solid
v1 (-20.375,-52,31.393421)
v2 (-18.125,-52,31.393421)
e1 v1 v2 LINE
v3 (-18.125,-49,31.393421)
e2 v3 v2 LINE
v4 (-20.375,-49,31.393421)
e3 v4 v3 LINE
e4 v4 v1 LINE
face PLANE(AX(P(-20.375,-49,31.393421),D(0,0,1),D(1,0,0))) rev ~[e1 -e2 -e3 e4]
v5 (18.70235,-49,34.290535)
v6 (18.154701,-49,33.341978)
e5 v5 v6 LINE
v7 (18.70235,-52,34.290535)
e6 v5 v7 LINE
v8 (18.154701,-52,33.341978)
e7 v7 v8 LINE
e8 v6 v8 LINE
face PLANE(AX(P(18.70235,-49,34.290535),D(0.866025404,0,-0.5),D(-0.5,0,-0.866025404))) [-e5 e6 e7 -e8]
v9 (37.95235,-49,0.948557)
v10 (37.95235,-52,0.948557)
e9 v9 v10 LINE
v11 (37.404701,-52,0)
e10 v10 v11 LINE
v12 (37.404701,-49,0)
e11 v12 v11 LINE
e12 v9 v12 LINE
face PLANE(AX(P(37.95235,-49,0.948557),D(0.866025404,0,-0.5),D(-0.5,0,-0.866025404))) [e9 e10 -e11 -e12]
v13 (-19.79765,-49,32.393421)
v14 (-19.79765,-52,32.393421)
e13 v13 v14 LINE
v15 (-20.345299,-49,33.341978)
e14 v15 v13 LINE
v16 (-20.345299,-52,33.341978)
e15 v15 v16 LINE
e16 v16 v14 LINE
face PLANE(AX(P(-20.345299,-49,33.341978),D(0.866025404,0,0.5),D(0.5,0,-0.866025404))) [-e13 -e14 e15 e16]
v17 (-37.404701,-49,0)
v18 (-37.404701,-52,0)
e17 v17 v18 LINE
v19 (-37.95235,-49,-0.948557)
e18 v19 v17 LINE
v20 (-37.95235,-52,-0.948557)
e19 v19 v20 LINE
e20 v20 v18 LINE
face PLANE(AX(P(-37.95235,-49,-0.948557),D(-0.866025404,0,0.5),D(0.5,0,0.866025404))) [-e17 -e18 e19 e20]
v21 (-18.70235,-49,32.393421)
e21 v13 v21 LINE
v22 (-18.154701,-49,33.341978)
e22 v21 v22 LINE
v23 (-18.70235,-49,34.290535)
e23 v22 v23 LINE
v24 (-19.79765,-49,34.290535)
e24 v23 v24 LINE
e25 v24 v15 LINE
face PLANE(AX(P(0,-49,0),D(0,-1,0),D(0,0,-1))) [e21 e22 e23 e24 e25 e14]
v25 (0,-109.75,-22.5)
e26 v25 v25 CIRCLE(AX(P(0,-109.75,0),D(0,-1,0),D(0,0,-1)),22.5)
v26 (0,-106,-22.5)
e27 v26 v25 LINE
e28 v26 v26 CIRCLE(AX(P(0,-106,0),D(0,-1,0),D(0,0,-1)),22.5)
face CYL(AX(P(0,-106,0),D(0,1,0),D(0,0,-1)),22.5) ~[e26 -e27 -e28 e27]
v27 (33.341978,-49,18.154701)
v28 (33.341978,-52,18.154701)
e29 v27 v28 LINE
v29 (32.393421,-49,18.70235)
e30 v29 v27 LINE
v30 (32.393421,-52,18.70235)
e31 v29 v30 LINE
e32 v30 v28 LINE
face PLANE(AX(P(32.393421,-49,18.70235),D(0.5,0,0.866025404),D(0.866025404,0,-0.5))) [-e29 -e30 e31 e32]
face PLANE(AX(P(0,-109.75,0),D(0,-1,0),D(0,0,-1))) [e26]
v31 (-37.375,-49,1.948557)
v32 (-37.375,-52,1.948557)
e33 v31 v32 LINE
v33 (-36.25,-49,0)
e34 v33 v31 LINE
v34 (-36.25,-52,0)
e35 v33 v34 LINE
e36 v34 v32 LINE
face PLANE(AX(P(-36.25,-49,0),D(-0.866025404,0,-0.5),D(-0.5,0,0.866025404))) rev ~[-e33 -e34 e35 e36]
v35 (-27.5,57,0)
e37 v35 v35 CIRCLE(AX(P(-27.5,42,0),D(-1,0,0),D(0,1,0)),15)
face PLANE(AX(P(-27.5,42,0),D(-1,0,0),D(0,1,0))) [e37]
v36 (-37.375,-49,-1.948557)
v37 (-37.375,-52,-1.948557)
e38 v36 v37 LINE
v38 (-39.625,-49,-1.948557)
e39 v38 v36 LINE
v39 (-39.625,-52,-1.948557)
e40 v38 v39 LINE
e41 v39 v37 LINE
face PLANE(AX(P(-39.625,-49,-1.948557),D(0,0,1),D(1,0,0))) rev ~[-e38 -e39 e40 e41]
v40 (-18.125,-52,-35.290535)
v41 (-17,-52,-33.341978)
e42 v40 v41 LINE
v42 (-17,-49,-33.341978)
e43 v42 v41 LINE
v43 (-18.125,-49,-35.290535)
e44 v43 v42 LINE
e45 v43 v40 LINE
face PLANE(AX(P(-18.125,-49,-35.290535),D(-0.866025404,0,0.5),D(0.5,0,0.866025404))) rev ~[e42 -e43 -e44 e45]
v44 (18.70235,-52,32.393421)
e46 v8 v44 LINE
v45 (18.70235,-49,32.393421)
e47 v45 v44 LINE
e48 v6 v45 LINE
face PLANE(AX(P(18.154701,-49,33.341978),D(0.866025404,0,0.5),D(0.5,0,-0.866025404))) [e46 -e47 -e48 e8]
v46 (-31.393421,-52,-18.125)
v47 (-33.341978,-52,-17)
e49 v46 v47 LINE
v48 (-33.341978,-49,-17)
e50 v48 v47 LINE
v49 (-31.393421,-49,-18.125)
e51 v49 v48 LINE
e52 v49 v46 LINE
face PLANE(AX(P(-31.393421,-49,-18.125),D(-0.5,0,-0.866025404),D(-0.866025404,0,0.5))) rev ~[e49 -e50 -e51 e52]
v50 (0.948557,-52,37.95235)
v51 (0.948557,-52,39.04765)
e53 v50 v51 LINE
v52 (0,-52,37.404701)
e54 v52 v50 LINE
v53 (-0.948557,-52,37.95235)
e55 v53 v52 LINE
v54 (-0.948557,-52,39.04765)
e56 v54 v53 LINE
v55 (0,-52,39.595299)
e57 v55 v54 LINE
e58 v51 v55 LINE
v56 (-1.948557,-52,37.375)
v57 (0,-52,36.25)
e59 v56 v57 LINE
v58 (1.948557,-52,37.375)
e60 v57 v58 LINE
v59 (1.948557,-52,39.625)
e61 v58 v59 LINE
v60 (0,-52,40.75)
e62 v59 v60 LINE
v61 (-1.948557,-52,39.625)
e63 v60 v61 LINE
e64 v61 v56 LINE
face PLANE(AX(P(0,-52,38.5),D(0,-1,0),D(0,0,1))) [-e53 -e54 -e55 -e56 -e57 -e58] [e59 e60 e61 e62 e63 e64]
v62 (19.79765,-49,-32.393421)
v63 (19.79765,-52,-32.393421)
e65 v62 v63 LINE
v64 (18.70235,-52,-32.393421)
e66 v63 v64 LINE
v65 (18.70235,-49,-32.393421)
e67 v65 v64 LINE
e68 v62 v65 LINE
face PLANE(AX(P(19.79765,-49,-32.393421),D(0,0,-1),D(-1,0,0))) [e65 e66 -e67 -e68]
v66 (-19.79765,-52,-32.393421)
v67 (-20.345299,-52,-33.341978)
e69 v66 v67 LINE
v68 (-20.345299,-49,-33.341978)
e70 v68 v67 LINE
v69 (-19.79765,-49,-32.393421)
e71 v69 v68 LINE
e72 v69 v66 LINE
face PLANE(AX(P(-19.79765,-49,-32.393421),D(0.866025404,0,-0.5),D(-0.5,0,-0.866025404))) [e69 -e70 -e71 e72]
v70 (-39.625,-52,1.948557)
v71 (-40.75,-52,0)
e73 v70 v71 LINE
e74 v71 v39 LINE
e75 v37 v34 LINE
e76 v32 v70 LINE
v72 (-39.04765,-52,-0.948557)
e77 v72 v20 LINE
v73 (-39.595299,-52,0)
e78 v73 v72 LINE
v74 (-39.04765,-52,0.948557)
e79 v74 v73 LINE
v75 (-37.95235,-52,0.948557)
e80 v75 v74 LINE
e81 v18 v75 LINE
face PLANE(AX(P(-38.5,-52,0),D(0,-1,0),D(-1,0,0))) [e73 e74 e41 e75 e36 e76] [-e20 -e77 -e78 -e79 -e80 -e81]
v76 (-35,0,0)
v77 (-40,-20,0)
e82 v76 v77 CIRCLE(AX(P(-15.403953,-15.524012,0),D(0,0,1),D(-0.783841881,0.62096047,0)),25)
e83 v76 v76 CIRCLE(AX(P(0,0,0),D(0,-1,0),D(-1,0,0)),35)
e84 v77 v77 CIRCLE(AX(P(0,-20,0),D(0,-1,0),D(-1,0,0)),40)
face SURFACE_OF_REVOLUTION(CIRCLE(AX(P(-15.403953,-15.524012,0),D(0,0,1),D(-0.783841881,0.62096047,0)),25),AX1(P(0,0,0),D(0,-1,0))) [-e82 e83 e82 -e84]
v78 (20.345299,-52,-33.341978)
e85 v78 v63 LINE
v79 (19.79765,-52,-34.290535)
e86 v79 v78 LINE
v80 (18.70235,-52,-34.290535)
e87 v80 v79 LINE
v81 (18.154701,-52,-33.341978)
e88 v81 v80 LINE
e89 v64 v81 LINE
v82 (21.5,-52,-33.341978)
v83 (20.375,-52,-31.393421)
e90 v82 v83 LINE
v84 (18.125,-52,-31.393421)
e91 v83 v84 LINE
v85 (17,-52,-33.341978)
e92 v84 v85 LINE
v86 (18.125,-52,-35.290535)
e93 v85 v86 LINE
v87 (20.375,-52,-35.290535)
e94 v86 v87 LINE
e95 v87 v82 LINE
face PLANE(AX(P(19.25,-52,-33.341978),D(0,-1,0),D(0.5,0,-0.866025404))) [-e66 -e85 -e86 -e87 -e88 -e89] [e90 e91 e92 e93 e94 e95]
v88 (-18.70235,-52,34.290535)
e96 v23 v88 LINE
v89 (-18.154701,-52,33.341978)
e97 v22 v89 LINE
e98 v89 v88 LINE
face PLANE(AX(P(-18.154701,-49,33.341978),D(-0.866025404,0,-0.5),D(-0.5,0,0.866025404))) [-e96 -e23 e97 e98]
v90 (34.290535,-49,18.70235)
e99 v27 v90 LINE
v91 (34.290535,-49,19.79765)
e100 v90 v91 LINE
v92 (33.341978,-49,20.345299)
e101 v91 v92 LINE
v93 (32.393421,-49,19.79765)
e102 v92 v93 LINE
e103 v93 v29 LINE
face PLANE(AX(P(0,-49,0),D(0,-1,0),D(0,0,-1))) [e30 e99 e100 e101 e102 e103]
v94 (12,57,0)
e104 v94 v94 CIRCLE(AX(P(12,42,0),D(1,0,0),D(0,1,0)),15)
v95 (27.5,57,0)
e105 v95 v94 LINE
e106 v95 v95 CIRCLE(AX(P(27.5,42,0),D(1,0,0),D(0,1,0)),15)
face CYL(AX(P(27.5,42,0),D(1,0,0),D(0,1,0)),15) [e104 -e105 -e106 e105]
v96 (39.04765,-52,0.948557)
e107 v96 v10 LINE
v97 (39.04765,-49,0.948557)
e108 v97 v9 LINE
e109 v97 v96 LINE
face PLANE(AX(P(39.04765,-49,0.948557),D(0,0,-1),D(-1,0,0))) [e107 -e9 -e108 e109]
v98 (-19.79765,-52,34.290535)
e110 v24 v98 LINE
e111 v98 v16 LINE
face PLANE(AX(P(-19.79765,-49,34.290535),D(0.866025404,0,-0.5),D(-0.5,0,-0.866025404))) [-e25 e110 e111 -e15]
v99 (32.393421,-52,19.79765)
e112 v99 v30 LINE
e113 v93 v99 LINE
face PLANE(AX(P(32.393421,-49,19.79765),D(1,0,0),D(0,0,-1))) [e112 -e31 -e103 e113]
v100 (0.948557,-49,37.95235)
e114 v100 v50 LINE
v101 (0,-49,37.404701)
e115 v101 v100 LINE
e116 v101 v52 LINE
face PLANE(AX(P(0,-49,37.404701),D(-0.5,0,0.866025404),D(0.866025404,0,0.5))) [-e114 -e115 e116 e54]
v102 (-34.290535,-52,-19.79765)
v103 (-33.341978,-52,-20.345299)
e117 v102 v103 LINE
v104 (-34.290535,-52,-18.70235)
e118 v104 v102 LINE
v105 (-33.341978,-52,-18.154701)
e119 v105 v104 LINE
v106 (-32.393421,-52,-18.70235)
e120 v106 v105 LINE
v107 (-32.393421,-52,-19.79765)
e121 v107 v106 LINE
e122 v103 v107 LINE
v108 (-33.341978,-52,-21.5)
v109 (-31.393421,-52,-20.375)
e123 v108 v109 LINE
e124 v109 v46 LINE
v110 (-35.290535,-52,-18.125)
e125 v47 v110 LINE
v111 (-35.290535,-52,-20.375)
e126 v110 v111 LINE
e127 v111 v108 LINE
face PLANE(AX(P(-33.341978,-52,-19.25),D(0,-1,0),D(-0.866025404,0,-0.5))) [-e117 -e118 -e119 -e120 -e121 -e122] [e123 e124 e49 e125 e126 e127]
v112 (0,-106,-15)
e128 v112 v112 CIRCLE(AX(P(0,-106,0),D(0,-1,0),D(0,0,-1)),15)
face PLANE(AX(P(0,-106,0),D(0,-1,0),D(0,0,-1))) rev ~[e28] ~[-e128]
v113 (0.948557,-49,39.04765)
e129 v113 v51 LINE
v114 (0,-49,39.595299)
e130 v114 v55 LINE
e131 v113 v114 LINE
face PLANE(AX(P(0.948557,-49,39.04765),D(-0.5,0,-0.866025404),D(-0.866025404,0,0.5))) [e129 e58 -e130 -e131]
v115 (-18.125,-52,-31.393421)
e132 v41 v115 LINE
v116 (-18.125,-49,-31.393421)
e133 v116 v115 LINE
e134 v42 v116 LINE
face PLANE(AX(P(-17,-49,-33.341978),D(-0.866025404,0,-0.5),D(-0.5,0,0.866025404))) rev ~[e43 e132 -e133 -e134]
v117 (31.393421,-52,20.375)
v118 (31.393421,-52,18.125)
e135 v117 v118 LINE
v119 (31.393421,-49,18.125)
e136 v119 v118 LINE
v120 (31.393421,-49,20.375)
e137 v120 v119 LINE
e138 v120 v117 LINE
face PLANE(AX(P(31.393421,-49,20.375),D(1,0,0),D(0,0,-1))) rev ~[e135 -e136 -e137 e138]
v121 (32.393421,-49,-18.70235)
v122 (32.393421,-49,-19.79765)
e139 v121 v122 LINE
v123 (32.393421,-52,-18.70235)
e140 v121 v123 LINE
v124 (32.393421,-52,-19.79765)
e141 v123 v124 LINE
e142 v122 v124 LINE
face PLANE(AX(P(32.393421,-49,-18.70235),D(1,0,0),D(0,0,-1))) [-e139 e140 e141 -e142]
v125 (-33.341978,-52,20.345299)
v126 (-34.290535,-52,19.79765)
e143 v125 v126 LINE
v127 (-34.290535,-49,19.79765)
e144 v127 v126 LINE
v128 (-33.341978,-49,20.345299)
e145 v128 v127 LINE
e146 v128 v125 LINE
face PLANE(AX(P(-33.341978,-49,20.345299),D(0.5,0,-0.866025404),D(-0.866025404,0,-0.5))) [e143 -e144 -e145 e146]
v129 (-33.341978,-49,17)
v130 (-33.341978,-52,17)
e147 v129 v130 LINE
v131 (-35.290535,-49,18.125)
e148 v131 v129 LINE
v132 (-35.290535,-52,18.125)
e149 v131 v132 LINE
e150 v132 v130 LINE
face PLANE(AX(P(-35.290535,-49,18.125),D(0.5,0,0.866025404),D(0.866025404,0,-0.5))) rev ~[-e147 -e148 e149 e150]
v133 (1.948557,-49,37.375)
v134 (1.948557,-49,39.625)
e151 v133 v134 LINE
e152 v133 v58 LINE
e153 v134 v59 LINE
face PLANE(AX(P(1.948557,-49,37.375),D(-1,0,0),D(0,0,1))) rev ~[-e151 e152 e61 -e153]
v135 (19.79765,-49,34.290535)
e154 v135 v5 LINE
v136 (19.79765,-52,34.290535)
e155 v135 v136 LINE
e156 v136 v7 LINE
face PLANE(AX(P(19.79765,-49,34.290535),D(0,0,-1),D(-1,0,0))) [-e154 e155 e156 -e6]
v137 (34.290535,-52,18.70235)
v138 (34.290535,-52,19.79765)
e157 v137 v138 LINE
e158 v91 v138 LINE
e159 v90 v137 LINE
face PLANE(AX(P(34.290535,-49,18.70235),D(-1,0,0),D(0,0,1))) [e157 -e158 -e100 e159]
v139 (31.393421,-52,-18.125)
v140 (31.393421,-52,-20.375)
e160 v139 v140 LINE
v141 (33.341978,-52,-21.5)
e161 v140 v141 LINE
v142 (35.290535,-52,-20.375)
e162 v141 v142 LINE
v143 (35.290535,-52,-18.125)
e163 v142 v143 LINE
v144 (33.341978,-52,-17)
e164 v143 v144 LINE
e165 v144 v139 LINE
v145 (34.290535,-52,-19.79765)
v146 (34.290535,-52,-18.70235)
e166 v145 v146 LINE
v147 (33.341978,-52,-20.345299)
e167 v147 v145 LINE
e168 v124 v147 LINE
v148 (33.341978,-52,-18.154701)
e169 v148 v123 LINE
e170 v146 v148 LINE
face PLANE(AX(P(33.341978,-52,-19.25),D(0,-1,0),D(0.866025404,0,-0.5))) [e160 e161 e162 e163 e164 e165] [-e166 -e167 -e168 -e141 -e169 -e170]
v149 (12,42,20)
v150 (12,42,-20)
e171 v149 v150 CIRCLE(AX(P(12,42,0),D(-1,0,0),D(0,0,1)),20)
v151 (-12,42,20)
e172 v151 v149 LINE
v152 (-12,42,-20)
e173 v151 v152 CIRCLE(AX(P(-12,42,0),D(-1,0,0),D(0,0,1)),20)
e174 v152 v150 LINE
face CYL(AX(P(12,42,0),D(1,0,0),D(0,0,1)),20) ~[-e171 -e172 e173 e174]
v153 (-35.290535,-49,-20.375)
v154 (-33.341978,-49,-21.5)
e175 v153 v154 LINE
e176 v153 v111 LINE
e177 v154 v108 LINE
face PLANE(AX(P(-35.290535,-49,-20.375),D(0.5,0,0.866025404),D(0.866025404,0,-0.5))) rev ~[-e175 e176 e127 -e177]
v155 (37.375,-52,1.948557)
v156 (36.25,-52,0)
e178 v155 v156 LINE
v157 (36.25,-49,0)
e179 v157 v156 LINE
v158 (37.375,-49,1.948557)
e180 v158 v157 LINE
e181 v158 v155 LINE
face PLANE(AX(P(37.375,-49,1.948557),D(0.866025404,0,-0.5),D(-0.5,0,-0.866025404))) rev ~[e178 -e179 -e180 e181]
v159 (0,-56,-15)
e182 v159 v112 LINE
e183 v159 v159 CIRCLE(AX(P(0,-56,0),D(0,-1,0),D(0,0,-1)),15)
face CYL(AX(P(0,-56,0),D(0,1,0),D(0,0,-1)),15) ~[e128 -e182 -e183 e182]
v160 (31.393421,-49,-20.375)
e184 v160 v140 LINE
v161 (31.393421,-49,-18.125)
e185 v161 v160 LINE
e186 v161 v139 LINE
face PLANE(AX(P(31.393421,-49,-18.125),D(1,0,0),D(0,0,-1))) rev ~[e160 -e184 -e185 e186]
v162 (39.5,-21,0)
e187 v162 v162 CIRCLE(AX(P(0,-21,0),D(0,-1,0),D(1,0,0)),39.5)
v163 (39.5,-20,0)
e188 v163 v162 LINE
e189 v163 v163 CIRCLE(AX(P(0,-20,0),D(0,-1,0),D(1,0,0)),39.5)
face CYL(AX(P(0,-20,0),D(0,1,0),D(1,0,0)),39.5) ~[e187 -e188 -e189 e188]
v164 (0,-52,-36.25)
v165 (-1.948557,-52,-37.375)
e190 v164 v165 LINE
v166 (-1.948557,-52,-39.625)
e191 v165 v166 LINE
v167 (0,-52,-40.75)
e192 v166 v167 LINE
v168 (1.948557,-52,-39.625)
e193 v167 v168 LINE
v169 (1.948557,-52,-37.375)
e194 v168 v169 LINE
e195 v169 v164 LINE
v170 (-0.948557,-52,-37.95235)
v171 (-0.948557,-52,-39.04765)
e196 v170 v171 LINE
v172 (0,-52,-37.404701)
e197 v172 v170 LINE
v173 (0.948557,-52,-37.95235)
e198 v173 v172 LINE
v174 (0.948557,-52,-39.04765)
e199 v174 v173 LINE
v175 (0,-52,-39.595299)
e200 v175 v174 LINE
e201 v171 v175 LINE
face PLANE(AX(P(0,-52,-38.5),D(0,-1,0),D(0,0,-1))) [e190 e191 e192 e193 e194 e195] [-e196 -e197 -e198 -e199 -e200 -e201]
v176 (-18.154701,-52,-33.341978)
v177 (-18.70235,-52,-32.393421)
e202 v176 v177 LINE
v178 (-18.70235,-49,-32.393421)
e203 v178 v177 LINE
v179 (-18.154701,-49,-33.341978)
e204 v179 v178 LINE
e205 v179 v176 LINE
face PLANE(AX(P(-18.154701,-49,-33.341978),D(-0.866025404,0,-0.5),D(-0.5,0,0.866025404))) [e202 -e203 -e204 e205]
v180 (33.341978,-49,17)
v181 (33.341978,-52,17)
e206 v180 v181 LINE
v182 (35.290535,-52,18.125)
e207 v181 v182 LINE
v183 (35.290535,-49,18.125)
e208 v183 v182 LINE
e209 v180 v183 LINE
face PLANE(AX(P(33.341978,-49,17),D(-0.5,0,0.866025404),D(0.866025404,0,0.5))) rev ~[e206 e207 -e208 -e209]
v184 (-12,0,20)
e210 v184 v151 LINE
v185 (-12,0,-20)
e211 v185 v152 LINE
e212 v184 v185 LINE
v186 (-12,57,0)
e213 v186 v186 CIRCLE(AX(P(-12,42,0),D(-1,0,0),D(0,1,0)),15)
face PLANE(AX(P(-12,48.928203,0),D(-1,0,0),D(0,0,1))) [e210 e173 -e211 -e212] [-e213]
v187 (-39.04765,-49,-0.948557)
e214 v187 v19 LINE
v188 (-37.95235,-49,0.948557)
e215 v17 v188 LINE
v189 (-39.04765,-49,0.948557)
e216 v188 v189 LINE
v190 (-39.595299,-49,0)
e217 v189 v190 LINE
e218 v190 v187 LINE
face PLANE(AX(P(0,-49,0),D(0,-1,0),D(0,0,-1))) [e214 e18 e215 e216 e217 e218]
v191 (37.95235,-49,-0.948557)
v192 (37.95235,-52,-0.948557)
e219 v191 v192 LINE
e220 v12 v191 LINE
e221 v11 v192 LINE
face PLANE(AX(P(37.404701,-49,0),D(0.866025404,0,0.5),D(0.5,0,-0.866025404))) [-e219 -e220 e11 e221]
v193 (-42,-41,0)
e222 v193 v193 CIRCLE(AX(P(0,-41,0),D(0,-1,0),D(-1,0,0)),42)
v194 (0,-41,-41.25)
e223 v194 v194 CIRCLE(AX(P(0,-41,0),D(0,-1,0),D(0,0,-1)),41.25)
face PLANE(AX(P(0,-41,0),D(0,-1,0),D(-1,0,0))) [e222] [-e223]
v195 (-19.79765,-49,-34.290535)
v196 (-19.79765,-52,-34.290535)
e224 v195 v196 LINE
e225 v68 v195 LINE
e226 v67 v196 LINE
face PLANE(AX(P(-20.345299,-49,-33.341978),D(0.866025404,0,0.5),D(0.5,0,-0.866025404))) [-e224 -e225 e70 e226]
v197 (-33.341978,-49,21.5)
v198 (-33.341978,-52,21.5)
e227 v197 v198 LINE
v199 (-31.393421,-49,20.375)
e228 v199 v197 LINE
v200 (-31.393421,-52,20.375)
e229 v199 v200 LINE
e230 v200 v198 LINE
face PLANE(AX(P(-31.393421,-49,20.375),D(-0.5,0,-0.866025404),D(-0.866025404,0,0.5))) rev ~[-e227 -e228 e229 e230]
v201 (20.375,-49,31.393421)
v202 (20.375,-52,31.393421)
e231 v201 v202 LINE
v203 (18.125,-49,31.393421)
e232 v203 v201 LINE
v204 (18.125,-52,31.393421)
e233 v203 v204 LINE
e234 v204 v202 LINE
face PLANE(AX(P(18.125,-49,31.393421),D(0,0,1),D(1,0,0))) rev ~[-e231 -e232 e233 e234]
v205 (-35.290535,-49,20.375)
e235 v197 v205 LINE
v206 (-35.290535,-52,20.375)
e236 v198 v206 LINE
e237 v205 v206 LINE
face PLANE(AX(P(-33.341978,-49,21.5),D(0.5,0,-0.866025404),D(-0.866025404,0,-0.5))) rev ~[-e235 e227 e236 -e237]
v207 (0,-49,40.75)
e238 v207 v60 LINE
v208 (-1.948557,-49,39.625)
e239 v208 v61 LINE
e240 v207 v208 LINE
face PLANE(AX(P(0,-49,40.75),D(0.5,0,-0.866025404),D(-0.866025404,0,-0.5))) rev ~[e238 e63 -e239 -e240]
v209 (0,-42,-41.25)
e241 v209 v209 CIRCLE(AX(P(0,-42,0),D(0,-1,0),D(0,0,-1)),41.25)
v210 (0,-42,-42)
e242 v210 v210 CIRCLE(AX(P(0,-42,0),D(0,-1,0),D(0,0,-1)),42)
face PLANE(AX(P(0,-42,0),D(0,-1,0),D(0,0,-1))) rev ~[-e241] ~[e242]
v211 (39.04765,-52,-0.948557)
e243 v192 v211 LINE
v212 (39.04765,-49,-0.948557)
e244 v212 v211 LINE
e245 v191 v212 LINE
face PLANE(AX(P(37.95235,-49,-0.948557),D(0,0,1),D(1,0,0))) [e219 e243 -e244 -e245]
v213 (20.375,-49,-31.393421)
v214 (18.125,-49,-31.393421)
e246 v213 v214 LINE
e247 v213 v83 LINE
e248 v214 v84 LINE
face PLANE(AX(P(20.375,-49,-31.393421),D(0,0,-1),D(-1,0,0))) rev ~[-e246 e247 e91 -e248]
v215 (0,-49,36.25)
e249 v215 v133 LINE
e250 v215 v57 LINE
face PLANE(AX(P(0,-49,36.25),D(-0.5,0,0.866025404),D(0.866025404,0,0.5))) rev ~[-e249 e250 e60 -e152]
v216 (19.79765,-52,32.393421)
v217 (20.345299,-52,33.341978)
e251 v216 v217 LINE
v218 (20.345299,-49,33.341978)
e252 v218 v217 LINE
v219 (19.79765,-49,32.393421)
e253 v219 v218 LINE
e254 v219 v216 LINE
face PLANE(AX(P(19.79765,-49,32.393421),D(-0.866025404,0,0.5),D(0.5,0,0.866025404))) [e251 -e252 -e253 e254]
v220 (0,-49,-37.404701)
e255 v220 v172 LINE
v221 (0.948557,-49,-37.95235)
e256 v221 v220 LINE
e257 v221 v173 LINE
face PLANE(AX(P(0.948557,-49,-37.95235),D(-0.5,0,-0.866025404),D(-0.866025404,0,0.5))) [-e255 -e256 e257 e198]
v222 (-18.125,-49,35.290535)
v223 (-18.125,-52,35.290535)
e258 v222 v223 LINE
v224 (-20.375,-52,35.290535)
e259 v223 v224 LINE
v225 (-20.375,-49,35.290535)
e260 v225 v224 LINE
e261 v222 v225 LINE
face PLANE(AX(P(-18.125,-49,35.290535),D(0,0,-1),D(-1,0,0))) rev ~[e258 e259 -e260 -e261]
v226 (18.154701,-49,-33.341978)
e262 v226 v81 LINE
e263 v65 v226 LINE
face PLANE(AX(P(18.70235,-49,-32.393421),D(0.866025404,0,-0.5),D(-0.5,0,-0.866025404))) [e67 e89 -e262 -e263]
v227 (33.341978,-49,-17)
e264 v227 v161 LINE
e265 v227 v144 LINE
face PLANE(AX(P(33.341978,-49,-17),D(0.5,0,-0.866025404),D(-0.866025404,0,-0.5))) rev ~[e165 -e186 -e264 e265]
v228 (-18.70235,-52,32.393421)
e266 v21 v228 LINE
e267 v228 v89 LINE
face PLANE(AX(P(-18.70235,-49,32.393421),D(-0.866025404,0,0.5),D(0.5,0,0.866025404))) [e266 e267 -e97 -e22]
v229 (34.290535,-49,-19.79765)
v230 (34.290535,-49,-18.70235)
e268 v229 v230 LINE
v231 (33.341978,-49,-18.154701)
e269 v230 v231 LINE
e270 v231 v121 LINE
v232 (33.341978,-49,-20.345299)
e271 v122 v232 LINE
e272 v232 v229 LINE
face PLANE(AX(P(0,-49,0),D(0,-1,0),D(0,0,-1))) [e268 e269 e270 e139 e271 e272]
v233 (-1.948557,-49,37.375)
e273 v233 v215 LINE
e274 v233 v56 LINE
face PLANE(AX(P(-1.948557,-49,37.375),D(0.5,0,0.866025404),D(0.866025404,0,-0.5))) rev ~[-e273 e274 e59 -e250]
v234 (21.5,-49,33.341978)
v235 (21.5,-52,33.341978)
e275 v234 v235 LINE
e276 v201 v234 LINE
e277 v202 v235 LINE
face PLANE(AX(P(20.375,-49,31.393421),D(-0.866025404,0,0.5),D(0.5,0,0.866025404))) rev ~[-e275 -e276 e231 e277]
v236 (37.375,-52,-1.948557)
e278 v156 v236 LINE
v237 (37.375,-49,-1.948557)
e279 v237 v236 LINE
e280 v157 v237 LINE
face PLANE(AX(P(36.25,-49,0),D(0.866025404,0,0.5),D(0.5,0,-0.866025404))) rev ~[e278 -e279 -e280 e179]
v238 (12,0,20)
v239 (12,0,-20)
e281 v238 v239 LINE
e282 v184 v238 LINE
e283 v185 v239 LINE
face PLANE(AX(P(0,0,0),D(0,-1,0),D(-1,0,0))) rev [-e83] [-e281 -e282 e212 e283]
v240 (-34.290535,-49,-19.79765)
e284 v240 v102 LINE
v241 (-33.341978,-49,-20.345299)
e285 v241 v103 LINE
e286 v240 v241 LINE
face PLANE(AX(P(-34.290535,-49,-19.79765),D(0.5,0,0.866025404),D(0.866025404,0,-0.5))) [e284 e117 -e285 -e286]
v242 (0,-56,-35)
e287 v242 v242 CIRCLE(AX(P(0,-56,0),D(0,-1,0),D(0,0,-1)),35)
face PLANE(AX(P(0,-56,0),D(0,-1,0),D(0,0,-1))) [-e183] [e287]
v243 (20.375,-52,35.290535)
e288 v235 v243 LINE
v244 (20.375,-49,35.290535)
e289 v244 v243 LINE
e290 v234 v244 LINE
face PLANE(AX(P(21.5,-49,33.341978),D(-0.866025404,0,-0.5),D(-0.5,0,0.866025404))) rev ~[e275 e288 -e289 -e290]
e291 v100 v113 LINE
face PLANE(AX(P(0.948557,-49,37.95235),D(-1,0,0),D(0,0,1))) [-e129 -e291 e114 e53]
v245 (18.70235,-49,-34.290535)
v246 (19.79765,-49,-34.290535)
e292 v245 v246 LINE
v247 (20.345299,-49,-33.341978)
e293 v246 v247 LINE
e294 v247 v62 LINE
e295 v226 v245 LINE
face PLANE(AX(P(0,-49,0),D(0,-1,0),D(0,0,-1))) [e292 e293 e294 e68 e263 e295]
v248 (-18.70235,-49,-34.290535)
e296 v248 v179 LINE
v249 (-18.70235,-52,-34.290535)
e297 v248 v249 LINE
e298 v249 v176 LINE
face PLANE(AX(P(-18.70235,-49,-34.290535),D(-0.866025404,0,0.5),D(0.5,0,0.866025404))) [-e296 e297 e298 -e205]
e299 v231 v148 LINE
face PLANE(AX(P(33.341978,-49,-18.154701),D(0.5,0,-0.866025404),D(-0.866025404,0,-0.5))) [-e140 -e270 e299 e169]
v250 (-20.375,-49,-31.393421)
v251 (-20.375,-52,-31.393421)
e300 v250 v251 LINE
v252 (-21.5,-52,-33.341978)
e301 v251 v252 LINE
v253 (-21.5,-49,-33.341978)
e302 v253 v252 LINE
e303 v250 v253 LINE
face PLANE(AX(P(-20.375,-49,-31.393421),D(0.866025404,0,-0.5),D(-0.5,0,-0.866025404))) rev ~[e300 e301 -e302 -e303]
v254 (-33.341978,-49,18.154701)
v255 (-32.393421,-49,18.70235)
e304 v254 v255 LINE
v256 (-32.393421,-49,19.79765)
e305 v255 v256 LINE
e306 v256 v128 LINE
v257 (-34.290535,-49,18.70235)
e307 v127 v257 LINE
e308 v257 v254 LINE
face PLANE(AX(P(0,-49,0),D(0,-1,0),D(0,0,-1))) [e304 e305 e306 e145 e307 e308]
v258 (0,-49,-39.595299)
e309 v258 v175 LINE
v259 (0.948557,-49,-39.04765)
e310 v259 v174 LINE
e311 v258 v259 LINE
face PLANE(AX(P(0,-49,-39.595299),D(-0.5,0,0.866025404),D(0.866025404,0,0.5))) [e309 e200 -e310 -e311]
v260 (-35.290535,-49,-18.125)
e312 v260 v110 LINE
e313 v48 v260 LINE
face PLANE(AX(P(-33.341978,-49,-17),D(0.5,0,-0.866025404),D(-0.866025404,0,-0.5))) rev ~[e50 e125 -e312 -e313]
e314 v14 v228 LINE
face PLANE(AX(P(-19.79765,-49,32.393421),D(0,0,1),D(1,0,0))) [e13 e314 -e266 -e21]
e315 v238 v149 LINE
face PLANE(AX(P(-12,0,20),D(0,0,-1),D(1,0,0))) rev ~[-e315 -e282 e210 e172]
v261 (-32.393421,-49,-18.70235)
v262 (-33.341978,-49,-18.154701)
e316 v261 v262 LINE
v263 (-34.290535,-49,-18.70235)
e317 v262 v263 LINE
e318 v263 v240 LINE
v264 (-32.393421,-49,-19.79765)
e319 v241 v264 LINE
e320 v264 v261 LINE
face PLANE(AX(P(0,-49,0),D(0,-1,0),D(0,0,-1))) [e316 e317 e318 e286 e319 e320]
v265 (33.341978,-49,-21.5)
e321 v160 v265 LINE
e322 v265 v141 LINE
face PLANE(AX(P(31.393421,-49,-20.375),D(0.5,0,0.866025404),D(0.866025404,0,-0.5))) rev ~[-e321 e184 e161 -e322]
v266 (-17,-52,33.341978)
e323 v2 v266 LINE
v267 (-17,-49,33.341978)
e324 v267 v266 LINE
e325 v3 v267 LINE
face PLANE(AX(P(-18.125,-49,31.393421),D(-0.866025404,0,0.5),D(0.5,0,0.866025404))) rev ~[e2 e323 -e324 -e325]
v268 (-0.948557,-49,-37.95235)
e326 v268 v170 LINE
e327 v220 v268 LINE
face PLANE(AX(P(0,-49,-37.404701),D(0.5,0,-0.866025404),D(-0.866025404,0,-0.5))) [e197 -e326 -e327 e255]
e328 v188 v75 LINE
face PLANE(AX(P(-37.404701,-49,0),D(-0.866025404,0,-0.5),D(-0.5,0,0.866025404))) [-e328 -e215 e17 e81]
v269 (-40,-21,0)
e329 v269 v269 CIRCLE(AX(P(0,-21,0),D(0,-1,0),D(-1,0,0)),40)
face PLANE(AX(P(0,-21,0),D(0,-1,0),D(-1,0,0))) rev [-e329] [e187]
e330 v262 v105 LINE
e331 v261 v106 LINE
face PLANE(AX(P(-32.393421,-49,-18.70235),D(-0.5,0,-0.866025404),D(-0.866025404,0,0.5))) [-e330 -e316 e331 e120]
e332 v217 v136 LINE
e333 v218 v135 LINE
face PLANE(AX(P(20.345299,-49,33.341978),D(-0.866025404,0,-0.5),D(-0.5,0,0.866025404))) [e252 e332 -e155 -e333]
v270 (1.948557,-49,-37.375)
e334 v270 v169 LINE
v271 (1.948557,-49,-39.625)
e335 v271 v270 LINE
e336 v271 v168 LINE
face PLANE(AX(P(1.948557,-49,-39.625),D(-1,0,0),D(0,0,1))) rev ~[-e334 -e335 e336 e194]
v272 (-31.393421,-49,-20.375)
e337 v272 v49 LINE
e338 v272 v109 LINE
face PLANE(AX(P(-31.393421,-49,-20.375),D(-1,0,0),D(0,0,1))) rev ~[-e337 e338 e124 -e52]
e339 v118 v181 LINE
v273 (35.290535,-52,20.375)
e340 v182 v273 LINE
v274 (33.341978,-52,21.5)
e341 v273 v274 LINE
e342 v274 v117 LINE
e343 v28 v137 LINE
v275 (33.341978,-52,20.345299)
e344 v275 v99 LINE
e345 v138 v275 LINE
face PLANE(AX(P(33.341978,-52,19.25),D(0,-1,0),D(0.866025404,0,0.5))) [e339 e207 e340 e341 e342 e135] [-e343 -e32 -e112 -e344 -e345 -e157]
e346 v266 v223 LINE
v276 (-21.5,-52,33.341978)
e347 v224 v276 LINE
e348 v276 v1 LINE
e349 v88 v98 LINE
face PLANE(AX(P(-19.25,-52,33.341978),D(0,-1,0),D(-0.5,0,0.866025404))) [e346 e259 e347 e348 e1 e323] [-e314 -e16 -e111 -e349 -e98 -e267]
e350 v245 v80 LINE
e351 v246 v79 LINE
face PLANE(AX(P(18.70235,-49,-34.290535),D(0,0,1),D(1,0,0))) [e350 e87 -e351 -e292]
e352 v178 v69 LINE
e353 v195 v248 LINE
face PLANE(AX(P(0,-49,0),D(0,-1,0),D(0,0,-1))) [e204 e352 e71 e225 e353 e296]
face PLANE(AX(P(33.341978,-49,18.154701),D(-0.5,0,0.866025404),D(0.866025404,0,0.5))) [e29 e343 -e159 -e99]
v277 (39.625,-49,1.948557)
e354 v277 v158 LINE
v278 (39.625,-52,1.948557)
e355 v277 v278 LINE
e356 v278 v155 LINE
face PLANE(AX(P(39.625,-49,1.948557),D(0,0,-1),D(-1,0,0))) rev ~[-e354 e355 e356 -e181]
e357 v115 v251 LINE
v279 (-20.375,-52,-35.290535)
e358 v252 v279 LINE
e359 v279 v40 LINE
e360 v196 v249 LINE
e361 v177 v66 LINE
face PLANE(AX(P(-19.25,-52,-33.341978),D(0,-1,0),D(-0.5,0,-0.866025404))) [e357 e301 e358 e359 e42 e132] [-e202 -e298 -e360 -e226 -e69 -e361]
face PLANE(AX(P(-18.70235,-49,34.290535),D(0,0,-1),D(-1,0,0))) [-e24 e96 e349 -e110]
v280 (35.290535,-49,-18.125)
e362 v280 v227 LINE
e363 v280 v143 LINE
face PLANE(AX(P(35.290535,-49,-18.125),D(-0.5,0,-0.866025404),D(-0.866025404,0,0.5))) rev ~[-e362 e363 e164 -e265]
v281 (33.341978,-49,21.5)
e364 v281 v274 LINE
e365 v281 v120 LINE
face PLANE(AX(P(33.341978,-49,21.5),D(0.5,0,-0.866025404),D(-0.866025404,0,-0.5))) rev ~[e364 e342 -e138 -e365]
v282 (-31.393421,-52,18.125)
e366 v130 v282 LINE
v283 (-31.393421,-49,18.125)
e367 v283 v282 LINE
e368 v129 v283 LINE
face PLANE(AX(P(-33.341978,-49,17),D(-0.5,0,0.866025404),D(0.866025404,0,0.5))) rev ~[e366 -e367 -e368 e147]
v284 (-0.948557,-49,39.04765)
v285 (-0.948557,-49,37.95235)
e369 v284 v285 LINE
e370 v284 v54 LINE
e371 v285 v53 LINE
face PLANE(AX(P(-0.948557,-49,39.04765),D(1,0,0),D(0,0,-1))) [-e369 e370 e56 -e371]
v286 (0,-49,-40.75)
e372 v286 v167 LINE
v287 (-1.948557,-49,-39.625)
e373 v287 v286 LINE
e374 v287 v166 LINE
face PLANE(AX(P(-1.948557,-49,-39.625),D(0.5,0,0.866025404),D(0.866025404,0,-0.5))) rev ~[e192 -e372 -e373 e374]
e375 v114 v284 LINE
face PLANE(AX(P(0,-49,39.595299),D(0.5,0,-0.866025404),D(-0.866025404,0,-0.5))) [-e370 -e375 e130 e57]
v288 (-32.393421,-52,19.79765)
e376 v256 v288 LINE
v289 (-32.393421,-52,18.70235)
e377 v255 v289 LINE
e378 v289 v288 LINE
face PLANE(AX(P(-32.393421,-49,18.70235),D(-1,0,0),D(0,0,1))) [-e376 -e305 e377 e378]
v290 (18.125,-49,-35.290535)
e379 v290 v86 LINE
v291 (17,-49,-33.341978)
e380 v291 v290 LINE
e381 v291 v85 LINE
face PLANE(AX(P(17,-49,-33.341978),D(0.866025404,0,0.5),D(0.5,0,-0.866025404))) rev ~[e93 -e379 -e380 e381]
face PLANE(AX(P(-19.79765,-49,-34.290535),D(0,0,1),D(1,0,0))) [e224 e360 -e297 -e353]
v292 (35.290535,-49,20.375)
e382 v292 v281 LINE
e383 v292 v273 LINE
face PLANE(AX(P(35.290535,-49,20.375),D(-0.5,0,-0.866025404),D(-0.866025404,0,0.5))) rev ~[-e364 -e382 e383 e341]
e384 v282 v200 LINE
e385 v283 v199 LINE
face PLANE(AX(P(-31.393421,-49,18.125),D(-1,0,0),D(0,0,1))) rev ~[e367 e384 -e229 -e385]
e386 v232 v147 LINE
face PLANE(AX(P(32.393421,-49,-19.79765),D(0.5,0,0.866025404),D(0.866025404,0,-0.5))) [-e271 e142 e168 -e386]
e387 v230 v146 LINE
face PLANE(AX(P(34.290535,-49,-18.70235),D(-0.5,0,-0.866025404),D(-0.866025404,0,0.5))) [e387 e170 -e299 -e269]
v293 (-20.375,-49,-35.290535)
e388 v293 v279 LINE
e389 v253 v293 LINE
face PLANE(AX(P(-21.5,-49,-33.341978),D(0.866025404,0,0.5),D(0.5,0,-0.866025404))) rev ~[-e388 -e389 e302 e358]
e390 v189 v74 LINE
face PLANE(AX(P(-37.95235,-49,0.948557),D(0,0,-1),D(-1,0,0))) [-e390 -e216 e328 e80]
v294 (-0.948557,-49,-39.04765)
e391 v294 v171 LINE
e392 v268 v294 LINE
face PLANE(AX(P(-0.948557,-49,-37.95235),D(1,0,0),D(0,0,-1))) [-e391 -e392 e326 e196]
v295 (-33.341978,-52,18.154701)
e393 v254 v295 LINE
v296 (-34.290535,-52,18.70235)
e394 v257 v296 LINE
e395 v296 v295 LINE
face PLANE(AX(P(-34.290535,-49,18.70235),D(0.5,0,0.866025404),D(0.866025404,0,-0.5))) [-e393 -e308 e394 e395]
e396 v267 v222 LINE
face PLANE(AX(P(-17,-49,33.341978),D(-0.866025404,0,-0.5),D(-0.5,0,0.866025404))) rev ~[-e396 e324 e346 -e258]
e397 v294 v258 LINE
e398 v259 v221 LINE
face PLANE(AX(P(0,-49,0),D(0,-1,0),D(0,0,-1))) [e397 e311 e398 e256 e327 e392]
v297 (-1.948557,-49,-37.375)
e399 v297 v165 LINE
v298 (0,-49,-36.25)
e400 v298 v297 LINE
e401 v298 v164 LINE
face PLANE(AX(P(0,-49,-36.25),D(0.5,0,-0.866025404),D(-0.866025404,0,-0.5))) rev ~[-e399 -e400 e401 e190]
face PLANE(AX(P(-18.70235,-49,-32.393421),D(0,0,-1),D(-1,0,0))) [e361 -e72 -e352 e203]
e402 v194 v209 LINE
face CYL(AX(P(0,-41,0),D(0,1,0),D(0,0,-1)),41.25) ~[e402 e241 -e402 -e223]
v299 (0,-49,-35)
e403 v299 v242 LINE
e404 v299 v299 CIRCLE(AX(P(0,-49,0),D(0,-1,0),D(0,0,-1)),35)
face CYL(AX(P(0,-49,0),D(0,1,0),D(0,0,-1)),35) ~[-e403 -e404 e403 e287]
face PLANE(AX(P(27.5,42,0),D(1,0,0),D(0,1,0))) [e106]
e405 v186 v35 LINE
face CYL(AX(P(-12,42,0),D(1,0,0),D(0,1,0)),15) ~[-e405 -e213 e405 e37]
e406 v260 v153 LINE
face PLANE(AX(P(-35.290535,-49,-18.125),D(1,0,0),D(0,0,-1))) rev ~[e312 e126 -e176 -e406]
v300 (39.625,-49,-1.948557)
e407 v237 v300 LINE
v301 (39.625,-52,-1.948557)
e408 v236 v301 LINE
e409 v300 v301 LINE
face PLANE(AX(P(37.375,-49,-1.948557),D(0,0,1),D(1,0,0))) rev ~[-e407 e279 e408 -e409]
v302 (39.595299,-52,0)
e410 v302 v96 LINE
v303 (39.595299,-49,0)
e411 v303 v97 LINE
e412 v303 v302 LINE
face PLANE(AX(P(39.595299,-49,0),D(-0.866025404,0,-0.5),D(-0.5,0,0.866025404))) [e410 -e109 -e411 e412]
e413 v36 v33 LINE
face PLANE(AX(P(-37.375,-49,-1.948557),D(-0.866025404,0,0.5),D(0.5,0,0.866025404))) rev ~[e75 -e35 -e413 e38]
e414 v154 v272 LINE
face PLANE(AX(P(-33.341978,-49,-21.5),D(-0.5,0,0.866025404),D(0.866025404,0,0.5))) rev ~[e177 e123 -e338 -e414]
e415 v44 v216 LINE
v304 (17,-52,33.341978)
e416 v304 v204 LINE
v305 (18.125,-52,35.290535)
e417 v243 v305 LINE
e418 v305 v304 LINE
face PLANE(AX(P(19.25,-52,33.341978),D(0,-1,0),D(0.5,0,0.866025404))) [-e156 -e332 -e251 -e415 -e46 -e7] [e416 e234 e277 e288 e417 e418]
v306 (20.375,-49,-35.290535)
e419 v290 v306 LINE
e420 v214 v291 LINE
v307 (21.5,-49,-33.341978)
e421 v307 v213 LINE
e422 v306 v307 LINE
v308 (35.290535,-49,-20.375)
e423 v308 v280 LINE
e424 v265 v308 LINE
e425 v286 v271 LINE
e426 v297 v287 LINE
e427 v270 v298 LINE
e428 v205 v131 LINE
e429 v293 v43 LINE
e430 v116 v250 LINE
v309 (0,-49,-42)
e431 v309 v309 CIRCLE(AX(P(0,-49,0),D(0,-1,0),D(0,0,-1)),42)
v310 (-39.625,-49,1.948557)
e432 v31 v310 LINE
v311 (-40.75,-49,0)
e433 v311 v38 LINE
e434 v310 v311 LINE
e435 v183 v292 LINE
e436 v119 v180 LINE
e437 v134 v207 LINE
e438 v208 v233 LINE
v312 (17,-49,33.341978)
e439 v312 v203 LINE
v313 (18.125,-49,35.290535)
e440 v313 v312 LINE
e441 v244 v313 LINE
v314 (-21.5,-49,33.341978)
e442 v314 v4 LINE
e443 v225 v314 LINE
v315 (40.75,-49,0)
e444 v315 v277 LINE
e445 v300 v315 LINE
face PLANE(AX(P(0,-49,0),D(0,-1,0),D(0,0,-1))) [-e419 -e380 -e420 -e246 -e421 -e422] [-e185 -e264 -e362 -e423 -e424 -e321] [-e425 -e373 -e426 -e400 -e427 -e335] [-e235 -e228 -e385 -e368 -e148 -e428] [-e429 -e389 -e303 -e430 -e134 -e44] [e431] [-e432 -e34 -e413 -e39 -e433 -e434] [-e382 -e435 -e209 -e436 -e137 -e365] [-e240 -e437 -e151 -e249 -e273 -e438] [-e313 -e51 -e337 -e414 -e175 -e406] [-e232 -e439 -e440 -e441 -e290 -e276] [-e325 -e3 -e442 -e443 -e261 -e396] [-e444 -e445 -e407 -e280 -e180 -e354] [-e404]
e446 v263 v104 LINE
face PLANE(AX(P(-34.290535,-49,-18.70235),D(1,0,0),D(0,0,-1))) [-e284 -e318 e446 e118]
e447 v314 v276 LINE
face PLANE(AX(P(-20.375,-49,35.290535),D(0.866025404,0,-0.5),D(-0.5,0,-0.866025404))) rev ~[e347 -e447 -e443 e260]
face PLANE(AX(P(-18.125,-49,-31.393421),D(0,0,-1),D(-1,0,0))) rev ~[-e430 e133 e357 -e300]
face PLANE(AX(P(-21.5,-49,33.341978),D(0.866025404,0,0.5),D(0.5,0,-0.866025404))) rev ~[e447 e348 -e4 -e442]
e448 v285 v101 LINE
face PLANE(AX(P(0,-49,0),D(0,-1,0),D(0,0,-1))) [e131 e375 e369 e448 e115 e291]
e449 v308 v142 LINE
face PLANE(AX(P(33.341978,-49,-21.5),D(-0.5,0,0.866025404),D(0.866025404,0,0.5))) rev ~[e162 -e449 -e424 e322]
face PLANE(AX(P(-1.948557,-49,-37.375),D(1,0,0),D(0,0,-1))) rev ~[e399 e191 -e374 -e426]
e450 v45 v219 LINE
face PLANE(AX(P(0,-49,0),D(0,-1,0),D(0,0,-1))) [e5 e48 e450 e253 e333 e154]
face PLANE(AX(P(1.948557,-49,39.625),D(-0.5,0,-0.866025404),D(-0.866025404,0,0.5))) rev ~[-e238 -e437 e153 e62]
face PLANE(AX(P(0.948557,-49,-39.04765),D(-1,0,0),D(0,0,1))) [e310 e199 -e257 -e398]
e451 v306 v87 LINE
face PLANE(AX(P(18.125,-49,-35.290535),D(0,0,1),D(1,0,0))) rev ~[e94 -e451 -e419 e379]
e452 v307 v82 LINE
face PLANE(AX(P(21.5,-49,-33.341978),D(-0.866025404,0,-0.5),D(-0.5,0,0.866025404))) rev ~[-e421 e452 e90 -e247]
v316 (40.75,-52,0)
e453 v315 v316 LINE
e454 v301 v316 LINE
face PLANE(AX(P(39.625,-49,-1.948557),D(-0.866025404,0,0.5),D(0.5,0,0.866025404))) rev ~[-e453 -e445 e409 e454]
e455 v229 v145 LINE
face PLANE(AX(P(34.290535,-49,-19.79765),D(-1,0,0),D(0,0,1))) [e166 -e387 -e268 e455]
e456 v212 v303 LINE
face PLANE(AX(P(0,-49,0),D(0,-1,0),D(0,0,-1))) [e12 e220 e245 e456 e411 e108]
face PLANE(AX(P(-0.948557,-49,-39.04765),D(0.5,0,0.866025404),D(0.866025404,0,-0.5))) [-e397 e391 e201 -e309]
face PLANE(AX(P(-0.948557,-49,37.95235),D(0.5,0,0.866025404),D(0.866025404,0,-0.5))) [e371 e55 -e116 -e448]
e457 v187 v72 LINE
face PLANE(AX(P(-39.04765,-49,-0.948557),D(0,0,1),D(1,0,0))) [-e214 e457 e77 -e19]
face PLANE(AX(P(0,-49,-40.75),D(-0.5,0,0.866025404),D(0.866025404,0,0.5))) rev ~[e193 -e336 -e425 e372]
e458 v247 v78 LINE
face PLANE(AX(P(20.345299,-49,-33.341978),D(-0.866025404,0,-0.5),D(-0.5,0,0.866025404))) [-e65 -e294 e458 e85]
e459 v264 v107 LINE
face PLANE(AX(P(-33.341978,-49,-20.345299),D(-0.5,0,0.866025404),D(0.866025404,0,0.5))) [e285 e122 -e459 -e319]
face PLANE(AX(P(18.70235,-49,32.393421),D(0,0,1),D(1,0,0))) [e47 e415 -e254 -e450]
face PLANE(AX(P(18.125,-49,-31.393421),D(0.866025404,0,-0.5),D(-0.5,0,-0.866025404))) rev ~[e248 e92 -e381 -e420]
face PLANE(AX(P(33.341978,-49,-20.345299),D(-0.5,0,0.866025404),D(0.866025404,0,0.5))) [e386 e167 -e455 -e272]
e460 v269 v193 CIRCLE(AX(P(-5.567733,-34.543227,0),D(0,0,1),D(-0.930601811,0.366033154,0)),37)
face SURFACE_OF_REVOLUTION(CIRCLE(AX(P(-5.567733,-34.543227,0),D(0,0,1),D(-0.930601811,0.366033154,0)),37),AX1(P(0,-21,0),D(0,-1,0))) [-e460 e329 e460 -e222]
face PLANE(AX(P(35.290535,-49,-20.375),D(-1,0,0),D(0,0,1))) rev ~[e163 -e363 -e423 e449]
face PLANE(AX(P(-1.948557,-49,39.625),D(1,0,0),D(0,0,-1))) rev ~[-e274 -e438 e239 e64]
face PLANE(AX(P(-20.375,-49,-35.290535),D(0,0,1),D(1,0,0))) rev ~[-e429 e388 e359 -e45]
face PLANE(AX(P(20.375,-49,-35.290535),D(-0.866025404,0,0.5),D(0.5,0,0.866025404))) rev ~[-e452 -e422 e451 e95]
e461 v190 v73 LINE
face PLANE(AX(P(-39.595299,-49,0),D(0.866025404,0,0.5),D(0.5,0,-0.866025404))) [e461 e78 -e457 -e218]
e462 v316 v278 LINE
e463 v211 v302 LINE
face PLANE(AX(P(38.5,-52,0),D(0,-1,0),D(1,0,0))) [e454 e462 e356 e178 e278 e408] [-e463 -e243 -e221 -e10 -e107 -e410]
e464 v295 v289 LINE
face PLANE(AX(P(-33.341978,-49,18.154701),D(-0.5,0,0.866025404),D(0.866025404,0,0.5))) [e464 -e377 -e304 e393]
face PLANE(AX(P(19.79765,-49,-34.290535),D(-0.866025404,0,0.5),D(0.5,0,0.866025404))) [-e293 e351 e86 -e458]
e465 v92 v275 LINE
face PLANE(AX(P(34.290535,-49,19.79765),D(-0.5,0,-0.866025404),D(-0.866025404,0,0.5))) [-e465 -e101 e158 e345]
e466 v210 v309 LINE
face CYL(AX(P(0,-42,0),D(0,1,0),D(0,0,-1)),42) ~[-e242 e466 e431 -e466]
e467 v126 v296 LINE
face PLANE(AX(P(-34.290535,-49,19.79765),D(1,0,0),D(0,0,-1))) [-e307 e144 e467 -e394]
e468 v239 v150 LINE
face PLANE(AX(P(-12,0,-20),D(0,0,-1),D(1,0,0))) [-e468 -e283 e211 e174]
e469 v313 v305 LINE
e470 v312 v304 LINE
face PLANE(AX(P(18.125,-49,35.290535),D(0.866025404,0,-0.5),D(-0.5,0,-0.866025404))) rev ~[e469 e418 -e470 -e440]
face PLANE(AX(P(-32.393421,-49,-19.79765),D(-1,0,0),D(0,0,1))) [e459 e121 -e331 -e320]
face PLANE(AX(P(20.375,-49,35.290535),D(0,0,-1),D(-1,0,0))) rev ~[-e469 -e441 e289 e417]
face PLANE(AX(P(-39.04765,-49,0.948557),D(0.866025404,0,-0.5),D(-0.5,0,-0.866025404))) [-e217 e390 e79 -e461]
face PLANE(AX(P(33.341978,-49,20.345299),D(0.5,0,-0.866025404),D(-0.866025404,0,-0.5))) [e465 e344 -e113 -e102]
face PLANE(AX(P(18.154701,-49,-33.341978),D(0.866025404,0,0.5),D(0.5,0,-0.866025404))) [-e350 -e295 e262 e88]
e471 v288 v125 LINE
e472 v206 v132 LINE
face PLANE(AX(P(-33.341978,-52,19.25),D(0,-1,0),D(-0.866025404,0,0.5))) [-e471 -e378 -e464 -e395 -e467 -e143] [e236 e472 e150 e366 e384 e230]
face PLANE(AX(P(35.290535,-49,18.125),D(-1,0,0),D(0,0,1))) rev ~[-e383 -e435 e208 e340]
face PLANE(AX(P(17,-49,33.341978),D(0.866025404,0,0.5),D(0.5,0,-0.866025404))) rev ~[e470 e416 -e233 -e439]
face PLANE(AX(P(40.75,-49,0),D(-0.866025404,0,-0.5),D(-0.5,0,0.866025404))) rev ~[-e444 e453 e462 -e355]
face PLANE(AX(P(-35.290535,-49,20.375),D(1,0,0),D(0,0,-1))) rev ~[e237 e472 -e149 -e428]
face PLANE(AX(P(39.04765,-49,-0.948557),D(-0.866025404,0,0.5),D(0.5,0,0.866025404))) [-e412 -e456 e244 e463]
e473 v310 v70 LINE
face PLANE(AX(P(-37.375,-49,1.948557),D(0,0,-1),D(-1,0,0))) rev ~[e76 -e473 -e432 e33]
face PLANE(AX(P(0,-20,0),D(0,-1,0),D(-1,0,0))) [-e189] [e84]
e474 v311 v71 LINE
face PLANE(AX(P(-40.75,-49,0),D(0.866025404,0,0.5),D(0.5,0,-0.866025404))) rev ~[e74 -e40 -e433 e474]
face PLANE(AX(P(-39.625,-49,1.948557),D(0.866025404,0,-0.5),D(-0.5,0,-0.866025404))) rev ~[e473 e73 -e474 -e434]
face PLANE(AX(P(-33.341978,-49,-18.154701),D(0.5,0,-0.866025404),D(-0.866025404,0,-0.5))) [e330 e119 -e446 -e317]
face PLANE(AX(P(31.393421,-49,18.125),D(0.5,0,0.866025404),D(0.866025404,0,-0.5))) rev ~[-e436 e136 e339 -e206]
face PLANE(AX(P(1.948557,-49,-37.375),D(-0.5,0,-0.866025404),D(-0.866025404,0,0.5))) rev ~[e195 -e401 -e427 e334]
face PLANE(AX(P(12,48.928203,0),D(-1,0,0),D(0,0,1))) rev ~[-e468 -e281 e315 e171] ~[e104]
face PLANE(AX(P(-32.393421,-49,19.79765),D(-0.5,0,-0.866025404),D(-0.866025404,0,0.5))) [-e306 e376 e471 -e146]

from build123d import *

# Parameters (mm, degrees)
SKETCH2_R            = 39.5
BOSS_EXTRUDE1_DEPTH  = 1
SKETCH4_R            = 41.25
BOSS_EXTRUDE2_DEPTH  = 1
SKETCH5_R            = 42
BOSS_EXTRUDE3_DEPTH  = 7
SKETCH6_R            = 35
BOSS_EXTRUDE4_DEPTH  = 7
BOSS_EXTRUDE7_DEPTH  = 3
CIRPATTERN2_COUNT    = 12
SKETCH8_R            = 15
BOSS_EXTRUDE8_DEPTH  = 50
SKETCH9_W            = 24
SKETCH9_H            = 40
BOSS_EXTRUDE9_DEPTH  = 42
BOSS_EXTRUDE10_START = -24
BOSS_EXTRUDE10_DEPTH = 24
SKETCH11_R           = 15
BOSS_EXTRUDE11_DEPTH = 15.5
BOSS_EXTRUDE12_START = 15.5
SKETCH12_R           = 15
BOSS_EXTRUDE12_DEPTH = 15.5
SKETCH13_R           = 22.5
BOSS_EXTRUDE13_DEPTH = 3.75


with BuildPart() as part:
    # Sketch1 → Revolve1 (revolve)
    with BuildSketch(Plane.XY):
        with BuildLine():
            Line((0, 0), (-35, 0))
            ThreePointArc((-35, 0), (-39.657515479, -9.46062113), (-40, -20))
            Line((-40, -20), (0, -20))
            Line((0, -20), (0, 0))
        make_face()
    revolve(axis=Axis((0, 0, 0), (0, -1, 0)))

    # Sketch2 → Boss-Extrude1 (add)
    with BuildSketch(Plane.XZ.offset(20)):
        Circle(SKETCH2_R)
    extrude(amount=BOSS_EXTRUDE1_DEPTH)

    # Sketch3 → Revolve2 (revolve)
    with BuildSketch(Plane(origin=(0, 0, 0), x_dir=(0, 0, -1), z_dir=(1, 0, 0)), mode=Mode.PRIVATE) as revolve2_sk:
        with BuildLine():
            Line((0, -21), (-40, -21))
            ThreePointArc((-40, -21), (-42.384109041, -30.861589096), (-42, -41))
            Line((-42, -41), (0, -41))
            Line((0, -41), (0, -21))
        make_face()
    revolve(revolve2_sk.sketch.rotate(Axis((0, -21, 0), (0, -1, 0)), 90), axis=Axis((0, -21, 0), (0, -1, 0)))

    # Sketch4 → Boss-Extrude2 (add)
    with BuildSketch(Plane.XZ.offset(41)):
        with Locations(Location((0, 0, 0), (0, 0, 270))):
            Circle(SKETCH4_R)
    extrude(amount=BOSS_EXTRUDE2_DEPTH)

    # Sketch5 → Boss-Extrude3 (add)
    with BuildSketch(Plane.XZ.offset(42)):
        with Locations(Location((0, 0, 0), (0, 0, 270))):
            Circle(SKETCH5_R)
    extrude(amount=BOSS_EXTRUDE3_DEPTH)

    # Sketch6 → Boss-Extrude4 (add)
    with BuildSketch(Plane.XZ.offset(49)):
        with Locations(Location((0, 0, 0), (0, 0, 270))):
            Circle(SKETCH6_R)
    extrude(amount=BOSS_EXTRUDE4_DEPTH)

    # Sketch7 → Boss-Extrude7 (add)
    with BuildSketch(Plane.XZ.offset(49)):
        Polygon((40.75, 0), (39.625, 1.948557159), (37.375, 1.948557159), (36.25, 0), (37.375, -1.948557159), (39.625, -1.948557159), align=None)
        Polygon((39.047649731, 0.948557159), (37.952350269, 0.948557159), (37.404700538, 0), (37.952350269, -0.948557159), (39.047649731, -0.948557159), (39.595299462, 0), align=None, mode=Mode.SUBTRACT)
    boss_extrude7 = extrude(amount=BOSS_EXTRUDE7_DEPTH)

    # CirPattern2: Boss-Extrude7 ×12 about axis
    cirpattern2_axis = Axis((0, 0, 0), (0, 1, 0))
    for i in range(1, CIRPATTERN2_COUNT):
        add(boss_extrude7.rotate(cirpattern2_axis, i * 360 / CIRPATTERN2_COUNT))

    # Sketch8 → Boss-Extrude8 (add)
    with BuildSketch(Plane.XZ.offset(56)):
        with Locations(Location((0, 0, 0), (0, 0, 270))):
            Circle(SKETCH8_R)
    extrude(amount=BOSS_EXTRUDE8_DEPTH)

    # Sketch9 → Boss-Extrude9 (add)
    with BuildSketch(Plane(origin=(0, 0, 0), x_dir=(1, 0, 0), z_dir=(0, 1, 0))):
        Rectangle(SKETCH9_W, SKETCH9_H)
    extrude(amount=BOSS_EXTRUDE9_DEPTH)

    # Sketch10 → Boss-Extrude10 (add)
    with BuildSketch(Plane.ZY.offset(12).offset(BOSS_EXTRUDE10_START)):
        with BuildLine():
            Line((-20, 42), (20, 42))
            ThreePointArc((20, 42), (0, 62), (-20, 42))
        make_face()
    extrude(amount=BOSS_EXTRUDE10_DEPTH)

    # Sketch11 → Boss-Extrude11 (add)
    with BuildSketch(Plane.ZY.offset(12)):
        with Locations(Location((0, 42, 0), (0, 0, 90))):
            Circle(SKETCH11_R)
    extrude(amount=BOSS_EXTRUDE11_DEPTH)

    # Sketch12 → Boss-Extrude12 (add)
    with BuildSketch(Plane(origin=(12, 0, 0), x_dir=(0, 0, -1), z_dir=(1, 0, 0)).offset(BOSS_EXTRUDE12_START)):
        with Locations(Location((0, 42, 0), (0, 0, 90))):
            Circle(SKETCH12_R)
    extrude(amount=-BOSS_EXTRUDE12_DEPTH)

    # Sketch13 → Boss-Extrude13 (add)
    with BuildSketch(Plane.XZ.offset(106)):
        with Locations(Location((0, 0, 0), (0, 0, 270))):
            Circle(SKETCH13_R)
    extrude(amount=BOSS_EXTRUDE13_DEPTH)


solid = part.part
